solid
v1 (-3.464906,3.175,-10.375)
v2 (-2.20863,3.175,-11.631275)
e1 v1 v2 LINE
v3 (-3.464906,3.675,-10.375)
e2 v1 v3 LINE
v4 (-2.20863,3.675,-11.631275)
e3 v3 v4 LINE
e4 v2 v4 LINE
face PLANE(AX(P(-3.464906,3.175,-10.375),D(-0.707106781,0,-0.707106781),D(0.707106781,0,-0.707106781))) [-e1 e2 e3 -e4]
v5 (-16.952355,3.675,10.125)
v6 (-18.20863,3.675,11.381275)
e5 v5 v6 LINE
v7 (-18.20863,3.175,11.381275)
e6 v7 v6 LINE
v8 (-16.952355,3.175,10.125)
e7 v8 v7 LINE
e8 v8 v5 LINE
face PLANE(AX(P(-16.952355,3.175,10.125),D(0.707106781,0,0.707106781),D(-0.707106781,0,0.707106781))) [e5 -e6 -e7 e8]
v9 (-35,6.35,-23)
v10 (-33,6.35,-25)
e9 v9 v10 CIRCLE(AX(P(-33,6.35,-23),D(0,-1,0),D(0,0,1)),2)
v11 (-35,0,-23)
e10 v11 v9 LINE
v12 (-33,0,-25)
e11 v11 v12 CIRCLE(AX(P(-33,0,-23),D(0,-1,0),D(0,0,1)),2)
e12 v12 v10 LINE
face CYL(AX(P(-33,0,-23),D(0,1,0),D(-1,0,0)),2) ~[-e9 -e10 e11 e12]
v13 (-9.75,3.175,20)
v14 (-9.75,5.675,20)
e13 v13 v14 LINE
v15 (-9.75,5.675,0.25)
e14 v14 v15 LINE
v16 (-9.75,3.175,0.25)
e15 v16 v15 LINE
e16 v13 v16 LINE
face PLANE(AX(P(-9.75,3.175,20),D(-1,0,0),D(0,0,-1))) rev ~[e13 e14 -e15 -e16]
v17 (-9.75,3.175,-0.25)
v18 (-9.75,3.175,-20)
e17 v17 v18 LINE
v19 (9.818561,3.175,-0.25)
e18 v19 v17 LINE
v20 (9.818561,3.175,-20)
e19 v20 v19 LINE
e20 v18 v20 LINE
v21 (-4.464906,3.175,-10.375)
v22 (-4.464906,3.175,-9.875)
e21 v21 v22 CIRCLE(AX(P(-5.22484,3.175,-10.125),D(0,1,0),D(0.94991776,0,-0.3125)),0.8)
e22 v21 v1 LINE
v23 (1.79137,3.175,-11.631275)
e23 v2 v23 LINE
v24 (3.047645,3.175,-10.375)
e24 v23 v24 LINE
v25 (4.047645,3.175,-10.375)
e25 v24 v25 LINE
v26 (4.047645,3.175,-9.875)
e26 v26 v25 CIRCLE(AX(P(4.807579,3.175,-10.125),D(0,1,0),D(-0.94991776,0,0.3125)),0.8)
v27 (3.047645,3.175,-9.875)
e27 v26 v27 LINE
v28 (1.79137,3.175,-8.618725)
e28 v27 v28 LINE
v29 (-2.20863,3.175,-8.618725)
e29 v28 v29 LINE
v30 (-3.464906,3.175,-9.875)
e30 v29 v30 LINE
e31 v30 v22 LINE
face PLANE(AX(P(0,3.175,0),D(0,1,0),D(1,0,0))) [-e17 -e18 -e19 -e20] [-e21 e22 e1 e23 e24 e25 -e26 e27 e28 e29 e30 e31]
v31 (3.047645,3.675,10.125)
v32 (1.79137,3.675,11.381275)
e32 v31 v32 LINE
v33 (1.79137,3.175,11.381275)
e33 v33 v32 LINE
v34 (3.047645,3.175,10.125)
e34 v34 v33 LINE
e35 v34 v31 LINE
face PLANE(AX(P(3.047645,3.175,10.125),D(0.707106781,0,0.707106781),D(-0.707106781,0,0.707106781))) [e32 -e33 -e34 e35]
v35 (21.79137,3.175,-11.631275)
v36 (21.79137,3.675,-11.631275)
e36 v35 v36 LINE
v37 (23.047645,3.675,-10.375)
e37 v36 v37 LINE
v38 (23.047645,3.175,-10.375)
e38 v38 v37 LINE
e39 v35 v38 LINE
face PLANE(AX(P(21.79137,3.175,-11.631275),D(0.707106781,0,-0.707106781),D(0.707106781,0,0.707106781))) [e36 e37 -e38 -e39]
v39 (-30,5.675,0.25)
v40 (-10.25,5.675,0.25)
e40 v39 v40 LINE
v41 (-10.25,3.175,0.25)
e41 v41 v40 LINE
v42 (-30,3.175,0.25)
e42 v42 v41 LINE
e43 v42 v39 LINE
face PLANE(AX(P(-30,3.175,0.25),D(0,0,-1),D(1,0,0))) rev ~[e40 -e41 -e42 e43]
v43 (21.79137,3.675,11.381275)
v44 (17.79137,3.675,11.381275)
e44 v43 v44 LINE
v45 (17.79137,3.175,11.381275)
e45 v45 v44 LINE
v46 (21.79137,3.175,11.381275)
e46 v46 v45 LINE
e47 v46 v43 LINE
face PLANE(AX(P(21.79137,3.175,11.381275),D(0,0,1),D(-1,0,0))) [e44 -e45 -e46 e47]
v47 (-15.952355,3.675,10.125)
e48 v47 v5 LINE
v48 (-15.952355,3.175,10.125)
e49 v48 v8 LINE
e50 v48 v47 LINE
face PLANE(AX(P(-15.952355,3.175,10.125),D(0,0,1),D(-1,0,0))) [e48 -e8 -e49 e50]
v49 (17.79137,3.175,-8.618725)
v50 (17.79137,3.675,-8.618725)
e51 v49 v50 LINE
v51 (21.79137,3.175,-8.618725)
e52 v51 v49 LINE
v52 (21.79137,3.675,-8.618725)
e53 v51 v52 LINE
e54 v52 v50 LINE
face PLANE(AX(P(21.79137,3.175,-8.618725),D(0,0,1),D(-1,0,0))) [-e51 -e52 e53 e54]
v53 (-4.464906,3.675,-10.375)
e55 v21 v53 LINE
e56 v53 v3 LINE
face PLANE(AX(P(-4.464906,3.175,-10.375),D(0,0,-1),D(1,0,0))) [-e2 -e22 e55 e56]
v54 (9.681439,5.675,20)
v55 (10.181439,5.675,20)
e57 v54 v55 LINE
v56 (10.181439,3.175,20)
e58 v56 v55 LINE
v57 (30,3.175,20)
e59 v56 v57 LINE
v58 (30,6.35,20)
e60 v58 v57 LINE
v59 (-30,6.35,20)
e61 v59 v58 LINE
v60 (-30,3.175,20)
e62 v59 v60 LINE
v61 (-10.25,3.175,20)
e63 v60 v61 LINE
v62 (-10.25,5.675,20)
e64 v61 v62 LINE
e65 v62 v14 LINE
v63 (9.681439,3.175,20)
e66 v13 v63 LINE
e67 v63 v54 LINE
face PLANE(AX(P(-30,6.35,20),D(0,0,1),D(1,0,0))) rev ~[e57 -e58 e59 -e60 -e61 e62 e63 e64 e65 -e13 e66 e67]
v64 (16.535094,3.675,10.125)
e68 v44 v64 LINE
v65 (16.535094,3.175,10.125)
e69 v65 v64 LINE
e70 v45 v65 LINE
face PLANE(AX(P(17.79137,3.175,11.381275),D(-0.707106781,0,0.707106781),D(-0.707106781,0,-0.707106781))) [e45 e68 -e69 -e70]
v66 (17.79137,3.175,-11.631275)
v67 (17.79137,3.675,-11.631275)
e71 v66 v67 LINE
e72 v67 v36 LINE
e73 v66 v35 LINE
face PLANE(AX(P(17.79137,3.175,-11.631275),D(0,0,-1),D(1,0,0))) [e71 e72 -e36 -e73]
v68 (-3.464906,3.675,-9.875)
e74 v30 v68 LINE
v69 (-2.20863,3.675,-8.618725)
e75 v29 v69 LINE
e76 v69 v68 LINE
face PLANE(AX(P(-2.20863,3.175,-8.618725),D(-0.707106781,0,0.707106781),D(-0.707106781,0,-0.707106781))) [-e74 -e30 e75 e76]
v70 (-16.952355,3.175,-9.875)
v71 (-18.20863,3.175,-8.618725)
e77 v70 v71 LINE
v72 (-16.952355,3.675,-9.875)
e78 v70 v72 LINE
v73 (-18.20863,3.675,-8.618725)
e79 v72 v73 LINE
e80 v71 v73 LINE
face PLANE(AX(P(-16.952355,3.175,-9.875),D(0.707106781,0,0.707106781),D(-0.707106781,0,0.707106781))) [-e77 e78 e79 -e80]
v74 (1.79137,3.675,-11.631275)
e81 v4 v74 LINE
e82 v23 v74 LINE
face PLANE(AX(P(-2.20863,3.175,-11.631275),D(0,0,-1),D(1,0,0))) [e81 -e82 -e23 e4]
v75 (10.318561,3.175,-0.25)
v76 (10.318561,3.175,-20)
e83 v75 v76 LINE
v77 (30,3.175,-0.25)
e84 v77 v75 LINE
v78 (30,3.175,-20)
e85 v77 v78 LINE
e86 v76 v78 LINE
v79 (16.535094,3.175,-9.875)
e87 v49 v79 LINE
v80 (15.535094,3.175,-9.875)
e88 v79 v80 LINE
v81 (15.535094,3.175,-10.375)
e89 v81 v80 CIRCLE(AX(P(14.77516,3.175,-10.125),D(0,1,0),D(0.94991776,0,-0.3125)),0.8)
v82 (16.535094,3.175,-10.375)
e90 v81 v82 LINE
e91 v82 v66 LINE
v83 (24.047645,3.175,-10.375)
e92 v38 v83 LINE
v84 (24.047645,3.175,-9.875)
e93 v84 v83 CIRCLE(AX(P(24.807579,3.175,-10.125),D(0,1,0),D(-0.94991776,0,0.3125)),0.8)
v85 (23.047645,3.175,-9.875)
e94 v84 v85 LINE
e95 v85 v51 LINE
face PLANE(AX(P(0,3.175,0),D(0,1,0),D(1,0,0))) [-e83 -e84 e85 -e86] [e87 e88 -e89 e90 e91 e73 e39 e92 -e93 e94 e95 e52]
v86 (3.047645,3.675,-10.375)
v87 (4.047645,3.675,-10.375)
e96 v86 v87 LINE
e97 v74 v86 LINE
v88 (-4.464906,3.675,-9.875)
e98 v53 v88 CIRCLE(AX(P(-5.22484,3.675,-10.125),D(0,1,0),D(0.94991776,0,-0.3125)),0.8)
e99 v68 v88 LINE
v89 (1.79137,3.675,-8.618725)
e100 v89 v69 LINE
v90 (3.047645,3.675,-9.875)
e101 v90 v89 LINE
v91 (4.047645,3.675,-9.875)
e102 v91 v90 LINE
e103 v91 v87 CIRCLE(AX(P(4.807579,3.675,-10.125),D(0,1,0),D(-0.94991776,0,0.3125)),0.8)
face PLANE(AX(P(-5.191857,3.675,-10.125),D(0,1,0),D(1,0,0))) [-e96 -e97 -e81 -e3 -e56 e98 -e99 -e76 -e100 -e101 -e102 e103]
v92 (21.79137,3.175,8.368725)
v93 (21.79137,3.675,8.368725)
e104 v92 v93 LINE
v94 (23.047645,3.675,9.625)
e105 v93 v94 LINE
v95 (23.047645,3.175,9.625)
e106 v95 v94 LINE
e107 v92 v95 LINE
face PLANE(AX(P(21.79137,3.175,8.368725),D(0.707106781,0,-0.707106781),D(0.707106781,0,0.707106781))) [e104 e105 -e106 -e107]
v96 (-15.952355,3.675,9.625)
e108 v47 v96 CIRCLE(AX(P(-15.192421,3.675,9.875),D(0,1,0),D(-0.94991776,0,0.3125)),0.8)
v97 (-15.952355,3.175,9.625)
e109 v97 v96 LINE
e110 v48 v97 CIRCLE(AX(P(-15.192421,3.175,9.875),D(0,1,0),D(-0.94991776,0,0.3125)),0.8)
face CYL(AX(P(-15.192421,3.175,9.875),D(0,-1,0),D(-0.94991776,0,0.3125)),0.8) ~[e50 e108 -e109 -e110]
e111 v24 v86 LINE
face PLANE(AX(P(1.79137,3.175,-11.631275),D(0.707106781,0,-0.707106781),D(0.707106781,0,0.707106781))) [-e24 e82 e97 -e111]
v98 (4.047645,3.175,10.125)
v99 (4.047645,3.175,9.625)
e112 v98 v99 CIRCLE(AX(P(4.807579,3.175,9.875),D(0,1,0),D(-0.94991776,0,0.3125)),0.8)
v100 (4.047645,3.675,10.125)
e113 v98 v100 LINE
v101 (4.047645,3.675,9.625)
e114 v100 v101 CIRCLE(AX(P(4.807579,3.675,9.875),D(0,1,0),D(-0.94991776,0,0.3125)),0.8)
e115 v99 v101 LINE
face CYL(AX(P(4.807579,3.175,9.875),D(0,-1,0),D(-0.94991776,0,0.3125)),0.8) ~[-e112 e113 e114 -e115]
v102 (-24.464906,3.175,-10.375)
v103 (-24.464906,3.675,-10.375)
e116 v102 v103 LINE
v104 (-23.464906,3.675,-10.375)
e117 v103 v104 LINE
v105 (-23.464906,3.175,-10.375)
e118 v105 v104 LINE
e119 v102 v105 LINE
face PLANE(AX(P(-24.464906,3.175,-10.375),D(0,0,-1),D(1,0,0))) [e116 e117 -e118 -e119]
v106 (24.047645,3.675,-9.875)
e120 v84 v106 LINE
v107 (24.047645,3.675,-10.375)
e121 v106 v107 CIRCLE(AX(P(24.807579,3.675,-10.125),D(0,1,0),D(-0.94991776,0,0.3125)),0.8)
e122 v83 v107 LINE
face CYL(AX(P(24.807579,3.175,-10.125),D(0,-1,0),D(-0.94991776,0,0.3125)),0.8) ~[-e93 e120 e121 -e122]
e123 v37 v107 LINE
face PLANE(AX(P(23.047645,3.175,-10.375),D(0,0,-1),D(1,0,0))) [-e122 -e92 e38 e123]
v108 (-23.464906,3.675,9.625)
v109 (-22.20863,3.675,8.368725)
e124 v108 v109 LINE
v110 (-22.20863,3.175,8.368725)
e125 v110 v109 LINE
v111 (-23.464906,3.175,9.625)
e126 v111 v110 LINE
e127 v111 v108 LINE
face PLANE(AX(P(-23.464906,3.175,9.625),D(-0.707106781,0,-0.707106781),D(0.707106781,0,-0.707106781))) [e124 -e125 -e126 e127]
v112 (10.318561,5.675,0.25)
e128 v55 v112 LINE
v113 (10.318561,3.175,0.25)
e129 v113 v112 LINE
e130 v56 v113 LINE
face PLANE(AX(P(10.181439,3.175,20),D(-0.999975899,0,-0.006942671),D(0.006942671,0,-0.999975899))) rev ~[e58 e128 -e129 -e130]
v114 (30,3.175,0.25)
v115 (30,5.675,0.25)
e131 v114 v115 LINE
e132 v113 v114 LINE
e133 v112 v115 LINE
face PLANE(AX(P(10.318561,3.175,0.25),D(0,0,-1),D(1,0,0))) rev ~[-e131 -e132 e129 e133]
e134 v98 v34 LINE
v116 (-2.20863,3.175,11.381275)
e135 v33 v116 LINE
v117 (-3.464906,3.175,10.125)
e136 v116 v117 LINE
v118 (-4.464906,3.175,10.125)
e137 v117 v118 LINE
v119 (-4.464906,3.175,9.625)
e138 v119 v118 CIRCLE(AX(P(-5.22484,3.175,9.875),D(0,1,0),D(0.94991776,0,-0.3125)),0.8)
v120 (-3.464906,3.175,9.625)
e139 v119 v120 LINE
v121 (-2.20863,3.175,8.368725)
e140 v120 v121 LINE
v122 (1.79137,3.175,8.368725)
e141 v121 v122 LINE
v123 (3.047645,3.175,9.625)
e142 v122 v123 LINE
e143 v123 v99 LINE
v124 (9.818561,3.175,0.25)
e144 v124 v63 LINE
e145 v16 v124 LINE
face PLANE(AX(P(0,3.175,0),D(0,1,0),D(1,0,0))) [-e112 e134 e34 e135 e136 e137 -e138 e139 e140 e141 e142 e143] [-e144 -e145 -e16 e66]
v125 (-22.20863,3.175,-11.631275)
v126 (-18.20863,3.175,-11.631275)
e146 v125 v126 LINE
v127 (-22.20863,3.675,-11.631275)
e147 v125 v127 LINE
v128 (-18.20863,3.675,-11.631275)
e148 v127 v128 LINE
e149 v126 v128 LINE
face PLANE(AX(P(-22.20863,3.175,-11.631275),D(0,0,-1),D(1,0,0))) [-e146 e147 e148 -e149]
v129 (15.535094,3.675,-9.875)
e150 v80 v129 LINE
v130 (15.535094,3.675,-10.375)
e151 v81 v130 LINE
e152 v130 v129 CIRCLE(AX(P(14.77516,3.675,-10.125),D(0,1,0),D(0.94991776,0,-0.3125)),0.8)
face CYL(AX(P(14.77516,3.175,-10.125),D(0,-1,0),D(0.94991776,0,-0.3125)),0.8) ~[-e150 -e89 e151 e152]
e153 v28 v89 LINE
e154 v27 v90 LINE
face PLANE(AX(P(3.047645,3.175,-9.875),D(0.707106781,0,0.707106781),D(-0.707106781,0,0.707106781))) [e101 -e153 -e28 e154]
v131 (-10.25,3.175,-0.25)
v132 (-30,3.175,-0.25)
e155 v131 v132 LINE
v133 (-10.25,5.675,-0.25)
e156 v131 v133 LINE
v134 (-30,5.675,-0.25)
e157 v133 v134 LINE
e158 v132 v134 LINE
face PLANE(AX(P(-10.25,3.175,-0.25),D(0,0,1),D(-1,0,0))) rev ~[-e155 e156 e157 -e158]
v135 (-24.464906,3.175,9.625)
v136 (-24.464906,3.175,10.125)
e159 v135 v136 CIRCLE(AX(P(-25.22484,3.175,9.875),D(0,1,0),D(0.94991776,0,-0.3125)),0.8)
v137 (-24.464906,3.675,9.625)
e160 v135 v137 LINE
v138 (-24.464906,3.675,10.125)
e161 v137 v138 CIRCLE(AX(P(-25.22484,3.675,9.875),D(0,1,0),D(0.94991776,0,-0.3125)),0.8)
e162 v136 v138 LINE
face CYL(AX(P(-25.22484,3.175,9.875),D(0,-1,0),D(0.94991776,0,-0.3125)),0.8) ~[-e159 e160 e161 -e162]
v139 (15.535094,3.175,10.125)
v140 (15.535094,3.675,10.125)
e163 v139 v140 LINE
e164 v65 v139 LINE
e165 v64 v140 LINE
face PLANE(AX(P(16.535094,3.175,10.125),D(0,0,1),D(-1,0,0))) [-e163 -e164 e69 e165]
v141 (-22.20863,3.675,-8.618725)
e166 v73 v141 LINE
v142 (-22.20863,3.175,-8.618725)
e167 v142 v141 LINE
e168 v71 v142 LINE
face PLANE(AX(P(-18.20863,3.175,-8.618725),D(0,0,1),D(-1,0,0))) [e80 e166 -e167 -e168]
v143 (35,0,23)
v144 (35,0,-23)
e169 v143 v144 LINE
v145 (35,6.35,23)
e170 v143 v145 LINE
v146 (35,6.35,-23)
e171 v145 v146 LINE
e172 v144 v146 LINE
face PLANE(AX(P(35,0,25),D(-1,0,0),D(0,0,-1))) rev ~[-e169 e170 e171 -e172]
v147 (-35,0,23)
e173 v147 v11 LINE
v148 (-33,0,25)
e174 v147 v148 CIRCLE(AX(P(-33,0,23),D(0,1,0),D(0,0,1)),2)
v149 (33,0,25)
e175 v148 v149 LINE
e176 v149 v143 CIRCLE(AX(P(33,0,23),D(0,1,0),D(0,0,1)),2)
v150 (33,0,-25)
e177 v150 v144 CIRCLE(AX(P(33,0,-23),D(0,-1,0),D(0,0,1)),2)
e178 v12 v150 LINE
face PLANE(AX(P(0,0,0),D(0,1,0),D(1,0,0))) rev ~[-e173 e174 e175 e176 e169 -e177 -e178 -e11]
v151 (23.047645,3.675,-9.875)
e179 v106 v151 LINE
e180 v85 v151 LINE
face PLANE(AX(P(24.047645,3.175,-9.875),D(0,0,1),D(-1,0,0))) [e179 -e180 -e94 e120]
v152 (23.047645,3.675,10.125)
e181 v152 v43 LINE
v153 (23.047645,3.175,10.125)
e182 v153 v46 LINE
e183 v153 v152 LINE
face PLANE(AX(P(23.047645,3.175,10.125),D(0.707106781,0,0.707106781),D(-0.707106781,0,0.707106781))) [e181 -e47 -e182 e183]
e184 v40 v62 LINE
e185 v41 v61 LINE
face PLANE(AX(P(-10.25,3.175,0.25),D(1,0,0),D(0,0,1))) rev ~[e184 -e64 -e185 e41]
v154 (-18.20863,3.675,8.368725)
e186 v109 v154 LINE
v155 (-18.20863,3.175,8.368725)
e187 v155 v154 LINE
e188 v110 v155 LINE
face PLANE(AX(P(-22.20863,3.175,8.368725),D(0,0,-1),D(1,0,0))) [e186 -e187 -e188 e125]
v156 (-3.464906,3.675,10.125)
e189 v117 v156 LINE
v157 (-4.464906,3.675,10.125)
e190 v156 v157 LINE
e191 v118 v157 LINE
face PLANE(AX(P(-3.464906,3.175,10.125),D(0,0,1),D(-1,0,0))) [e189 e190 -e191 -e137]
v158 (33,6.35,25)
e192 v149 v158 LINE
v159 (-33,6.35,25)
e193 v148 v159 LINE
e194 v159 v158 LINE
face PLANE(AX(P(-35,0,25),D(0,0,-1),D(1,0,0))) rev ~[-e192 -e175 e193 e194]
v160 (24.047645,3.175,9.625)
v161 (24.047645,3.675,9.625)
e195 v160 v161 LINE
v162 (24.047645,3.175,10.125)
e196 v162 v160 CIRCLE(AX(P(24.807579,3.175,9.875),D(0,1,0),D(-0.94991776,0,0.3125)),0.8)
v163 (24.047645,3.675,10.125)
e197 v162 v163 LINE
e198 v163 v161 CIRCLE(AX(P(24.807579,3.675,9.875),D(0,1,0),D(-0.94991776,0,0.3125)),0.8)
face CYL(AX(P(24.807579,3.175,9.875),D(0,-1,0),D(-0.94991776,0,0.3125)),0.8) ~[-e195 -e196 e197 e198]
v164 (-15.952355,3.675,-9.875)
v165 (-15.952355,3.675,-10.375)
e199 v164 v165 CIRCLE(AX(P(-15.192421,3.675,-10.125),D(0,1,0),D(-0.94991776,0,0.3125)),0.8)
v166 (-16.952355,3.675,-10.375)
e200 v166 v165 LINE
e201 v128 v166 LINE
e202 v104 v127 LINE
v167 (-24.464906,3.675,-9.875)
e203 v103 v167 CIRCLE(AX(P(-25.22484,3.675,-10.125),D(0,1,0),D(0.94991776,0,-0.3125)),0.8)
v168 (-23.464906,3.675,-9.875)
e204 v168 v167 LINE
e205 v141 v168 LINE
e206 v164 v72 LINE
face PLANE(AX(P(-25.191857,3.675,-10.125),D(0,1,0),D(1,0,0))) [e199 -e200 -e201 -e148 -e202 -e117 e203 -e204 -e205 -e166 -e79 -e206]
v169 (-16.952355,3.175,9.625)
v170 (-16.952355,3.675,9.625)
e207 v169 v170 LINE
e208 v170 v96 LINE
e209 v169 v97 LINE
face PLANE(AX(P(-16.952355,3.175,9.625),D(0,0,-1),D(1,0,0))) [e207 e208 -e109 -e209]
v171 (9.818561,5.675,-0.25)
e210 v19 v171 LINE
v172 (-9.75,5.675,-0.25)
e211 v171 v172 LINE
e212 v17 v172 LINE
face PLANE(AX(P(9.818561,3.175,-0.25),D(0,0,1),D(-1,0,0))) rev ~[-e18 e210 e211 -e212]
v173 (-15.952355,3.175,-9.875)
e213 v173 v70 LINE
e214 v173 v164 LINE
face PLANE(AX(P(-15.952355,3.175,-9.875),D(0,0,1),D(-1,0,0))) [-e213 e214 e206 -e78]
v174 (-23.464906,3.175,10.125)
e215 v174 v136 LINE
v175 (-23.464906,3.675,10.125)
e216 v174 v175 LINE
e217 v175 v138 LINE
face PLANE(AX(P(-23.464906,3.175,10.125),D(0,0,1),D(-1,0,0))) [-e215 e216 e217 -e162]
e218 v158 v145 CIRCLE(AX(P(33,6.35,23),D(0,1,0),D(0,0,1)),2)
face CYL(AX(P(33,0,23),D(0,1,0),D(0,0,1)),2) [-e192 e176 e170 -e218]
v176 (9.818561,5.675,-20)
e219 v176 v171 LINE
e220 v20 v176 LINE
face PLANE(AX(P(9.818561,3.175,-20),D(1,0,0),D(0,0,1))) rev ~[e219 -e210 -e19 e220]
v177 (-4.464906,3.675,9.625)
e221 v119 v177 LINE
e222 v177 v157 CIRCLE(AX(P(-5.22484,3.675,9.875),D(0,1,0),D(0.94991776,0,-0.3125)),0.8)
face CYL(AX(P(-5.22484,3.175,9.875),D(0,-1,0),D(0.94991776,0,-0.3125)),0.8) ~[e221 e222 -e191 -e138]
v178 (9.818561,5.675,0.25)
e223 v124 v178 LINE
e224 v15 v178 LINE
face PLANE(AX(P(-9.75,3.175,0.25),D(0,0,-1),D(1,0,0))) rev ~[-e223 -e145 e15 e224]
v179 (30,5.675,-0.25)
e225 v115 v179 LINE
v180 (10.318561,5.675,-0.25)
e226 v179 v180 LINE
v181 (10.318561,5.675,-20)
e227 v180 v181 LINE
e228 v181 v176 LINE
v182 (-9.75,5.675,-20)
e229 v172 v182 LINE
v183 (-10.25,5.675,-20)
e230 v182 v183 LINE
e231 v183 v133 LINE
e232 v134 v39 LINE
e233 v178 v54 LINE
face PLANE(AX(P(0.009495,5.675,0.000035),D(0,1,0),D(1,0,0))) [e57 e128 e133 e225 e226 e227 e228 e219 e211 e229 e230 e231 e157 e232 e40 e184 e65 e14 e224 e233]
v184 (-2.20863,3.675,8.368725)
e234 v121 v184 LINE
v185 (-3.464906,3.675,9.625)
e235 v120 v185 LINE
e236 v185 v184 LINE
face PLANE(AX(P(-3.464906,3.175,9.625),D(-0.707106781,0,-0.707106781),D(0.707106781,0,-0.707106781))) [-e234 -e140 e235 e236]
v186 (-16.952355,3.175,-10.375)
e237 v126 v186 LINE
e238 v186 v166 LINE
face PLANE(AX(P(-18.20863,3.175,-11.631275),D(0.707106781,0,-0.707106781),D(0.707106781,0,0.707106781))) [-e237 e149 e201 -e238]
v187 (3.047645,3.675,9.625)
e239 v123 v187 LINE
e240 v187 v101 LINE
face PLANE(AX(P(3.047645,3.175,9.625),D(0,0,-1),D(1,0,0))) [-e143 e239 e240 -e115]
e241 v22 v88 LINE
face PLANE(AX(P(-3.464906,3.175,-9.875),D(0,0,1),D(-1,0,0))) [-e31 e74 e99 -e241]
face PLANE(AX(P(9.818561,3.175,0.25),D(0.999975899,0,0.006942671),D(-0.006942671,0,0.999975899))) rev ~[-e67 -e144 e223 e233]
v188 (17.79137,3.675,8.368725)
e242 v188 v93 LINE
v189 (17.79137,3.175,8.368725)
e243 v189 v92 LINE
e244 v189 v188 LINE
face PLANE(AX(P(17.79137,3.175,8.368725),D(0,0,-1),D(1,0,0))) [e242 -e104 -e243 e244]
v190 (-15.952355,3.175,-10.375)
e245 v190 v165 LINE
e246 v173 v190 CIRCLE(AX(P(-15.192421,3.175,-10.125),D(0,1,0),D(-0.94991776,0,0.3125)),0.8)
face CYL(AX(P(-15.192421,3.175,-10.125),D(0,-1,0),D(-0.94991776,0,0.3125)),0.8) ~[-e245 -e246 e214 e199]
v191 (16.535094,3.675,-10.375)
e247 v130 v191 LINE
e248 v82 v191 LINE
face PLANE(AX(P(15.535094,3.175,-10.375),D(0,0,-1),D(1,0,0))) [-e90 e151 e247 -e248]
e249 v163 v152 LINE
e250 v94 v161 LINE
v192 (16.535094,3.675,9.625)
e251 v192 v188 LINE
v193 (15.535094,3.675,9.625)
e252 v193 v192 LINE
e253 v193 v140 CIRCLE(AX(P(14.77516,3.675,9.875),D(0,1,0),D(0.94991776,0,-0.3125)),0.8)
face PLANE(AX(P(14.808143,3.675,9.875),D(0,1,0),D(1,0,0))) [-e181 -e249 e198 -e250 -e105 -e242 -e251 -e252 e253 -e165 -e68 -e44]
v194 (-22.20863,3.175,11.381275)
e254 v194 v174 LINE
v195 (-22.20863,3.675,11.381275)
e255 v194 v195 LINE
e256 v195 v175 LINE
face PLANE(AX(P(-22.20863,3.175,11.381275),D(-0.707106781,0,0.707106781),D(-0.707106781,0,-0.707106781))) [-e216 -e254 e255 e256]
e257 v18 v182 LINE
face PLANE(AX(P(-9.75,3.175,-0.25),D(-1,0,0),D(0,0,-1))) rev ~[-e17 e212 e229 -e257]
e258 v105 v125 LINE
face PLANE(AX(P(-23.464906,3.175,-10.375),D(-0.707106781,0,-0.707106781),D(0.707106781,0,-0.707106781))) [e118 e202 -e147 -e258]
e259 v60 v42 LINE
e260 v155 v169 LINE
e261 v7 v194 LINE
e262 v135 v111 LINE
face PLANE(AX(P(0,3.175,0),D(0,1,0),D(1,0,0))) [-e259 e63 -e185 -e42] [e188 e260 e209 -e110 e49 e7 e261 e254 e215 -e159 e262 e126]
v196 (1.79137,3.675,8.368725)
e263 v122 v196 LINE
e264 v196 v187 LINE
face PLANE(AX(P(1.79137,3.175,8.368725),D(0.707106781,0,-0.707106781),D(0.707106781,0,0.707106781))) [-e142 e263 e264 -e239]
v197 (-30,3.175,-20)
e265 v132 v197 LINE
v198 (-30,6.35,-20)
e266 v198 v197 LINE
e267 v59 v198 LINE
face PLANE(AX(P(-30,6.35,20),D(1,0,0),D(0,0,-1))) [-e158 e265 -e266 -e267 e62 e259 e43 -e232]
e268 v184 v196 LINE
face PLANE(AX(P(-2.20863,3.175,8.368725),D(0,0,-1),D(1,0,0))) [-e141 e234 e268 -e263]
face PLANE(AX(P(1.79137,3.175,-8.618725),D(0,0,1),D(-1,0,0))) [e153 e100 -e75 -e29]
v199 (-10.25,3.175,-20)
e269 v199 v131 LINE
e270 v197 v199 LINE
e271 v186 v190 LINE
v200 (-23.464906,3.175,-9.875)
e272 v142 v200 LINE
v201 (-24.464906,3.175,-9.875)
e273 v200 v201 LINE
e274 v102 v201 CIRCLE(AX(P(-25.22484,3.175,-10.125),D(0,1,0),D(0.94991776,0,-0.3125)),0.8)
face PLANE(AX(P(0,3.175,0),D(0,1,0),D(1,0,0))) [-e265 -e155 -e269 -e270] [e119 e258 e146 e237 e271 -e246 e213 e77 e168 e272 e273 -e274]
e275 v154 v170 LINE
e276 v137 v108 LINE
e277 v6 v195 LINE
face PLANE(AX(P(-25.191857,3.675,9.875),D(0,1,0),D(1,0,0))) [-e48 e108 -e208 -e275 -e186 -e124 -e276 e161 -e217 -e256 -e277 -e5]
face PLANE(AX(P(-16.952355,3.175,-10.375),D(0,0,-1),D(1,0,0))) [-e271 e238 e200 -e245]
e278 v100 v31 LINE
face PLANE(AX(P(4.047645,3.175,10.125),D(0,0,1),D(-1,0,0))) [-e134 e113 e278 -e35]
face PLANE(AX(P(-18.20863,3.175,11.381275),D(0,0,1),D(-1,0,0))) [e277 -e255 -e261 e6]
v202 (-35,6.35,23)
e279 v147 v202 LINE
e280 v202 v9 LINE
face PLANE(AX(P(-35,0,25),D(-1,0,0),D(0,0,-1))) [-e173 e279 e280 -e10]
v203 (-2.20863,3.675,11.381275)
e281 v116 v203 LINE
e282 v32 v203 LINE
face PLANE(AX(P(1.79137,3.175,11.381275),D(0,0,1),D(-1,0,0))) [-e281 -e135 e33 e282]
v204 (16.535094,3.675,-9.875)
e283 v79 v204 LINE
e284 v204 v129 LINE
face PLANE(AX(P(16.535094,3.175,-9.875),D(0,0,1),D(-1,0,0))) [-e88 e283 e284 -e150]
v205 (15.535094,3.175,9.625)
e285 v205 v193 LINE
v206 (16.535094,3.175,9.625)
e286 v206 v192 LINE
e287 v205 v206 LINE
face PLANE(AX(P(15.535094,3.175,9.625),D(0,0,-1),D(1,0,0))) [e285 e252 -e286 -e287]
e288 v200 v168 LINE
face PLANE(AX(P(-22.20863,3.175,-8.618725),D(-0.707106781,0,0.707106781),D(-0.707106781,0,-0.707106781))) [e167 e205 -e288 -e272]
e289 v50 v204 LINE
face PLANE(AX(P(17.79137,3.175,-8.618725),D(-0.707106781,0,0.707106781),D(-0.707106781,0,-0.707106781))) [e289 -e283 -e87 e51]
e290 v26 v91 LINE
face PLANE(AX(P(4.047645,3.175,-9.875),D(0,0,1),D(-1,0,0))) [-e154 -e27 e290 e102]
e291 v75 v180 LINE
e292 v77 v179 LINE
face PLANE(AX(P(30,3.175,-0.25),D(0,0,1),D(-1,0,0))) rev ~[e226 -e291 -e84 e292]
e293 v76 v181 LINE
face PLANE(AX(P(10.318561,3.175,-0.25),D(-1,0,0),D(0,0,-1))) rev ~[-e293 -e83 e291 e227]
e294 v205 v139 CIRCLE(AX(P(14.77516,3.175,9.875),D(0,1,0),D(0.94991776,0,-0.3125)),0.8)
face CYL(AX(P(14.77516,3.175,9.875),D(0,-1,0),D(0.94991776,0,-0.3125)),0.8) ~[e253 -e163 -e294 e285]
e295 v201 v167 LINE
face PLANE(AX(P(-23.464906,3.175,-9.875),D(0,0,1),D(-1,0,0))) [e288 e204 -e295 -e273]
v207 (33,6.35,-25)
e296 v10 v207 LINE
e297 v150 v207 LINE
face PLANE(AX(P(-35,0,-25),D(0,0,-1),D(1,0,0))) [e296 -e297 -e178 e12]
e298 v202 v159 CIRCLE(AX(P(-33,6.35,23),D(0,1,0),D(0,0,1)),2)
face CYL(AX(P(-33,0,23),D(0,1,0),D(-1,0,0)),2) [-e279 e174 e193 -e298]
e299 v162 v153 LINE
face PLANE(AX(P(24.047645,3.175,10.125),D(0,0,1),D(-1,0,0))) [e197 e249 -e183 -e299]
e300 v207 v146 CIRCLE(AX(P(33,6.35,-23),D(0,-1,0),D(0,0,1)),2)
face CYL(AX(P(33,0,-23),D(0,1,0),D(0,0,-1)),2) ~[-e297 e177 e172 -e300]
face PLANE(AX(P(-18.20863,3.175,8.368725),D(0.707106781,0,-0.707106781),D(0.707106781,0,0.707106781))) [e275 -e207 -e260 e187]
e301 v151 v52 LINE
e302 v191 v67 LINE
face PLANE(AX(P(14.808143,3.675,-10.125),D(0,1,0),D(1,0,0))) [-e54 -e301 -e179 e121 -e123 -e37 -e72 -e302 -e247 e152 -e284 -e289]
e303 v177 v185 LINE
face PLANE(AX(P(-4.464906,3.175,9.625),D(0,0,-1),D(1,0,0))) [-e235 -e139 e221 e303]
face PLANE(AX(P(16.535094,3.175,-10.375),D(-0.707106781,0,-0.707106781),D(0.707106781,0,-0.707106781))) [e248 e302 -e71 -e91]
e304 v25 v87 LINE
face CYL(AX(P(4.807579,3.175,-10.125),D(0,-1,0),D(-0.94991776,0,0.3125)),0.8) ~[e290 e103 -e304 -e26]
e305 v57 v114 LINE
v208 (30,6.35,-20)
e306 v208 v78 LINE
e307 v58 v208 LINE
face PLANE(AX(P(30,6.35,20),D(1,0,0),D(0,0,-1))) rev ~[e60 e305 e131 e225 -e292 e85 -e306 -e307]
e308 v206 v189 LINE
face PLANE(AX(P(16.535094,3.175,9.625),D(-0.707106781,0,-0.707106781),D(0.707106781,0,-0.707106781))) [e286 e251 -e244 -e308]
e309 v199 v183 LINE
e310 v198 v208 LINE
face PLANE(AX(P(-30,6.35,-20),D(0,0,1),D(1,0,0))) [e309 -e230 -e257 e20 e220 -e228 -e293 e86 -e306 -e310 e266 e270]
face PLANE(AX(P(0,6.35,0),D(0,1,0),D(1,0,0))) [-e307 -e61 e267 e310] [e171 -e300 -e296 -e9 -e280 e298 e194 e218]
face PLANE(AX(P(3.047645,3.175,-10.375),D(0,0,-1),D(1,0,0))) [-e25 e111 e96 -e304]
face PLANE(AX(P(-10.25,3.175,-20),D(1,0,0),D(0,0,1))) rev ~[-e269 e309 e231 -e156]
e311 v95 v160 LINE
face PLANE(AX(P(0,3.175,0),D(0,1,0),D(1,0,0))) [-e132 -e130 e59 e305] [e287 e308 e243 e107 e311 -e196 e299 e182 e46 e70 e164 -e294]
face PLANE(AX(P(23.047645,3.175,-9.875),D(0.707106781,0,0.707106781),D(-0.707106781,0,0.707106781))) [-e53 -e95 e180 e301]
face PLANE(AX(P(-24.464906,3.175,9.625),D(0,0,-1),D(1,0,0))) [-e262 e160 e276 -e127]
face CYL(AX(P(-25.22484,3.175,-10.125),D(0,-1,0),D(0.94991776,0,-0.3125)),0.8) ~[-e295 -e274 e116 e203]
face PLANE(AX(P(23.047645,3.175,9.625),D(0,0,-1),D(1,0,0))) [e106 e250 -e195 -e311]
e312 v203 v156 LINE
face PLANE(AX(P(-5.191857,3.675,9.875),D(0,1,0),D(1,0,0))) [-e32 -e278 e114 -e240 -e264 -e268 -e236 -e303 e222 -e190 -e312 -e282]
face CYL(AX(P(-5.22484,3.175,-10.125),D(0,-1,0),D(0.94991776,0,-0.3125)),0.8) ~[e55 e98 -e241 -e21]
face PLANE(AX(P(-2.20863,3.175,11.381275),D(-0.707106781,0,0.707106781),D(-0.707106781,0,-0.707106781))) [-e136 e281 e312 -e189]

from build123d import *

# Parameters (mm, degrees)
SKETCH1_W            = 70
SKETCH1_H            = 50
BOSS_EXTRUDE1_DEPTH  = 6.35
SKETCH2_W            = 60
SKETCH2_H            = 40
CUT_EXTRUDE1_DEPTH   = 3.175
DIVIDERS_DEPTH       = 2.5
BOSS_EXTRUDE3_DEPTH  = 0.5
LPATTERN1_COUNT      = 3
LPATTERN1_PITCH      = 20
LPATTERN1_COUNT_DIR2 = 2
LPATTERN1_PITCH_DIR2 = 20
FILLET1_R            = 2


with BuildPart() as part:
    # Sketch1 → Boss-Extrude1 (new body)
    with BuildSketch(Plane(origin=(0, 0, 0), x_dir=(1, 0, 0), z_dir=(0, 1, 0))):
        Rectangle(SKETCH1_W, SKETCH1_H)
    extrude(amount=BOSS_EXTRUDE1_DEPTH)

    # Sketch2 → Cut-Extrude1 (cut)
    with BuildSketch(Plane(origin=(0, 6.35, 0), x_dir=(1, 0, 0), z_dir=(0, 1, 0))):
        Rectangle(SKETCH2_W, SKETCH2_H)
    extrude(amount=-CUT_EXTRUDE1_DEPTH, mode=Mode.SUBTRACT)

    # Sketch10 → Dividers (add)
    with BuildSketch(Plane(origin=(0, 3.175, 0), x_dir=(1, 0, 0), z_dir=(0, 1, 0))):
        Polygon((-10.25, -0.25), (-10.25, -20), (-9.75, -20), (-9.75, -0.25), (9.818560524, -0.25), (9.681439476, -20), (10.181439476, -20), (10.318560524, -0.25), (30, -0.25), (30, 0.25), (10.318560524, 0.25), (10.318560524, 20), (9.818560524, 20), (9.818560524, 0.25), (-9.75, 0.25), (-9.75, 20), (-10.25, 20), (-10.25, 0.25), (-30, 0.25), (-30, -0.25), align=None)
    extrude(amount=DIVIDERS_DEPTH)

    # Sketch11 → Boss-Extrude3 (add)
    with BuildSketch(Plane(origin=(0, 3.175, 0), x_dir=(1, 0, 0), z_dir=(0, 1, 0))):
        with BuildLine():
            Line((-24.464905709, 9.875), (-24.464905709, 10.375))
            ThreePointArc((-24.464905709, 10.375), (-26.024839917, 10.125), (-24.464905709, 9.875))
        make_face()
        Polygon((-24.464905709, 9.875), (-24.464905709, 10.375), (-23.464905709, 10.375), (-22.208630276, 11.631275433), (-18.208630276, 11.631275433), (-16.952354844, 10.375), (-15.952354844, 10.375), (-15.952354844, 9.875), (-16.952354844, 9.875), (-18.208630276, 8.618724567), (-22.208630276, 8.618724567), (-23.464905709, 9.875), align=None)
        with BuildLine():
            Line((-15.952354844, 10.375), (-15.952354844, 9.875))
            ThreePointArc((-15.952354844, 9.875), (-14.392420636, 10.125), (-15.952354844, 10.375))
        make_face()
    boss_extrude3 = extrude(amount=BOSS_EXTRUDE3_DEPTH)

    # LPattern1: Boss-Extrude3 3 × 2
    with Locations(*[(i * LPATTERN1_PITCH, 0, j * LPATTERN1_PITCH_DIR2) for i in range(LPATTERN1_COUNT) for j in range(LPATTERN1_COUNT_DIR2) if (i, j) != (0, 0)]):
        add(boss_extrude3)

    # Fillet1
    fillet1_edges = [part.edges().sort_by_distance(p)[0] for p in [
        (35, 3.175, 25),
        (-35, 3.175, 25),
        (-35, 3.175, -25),
        (35, 3.175, -25),
    ]]
    fillet(fillet1_edges, radius=FILLET1_R)


solid = part.part
